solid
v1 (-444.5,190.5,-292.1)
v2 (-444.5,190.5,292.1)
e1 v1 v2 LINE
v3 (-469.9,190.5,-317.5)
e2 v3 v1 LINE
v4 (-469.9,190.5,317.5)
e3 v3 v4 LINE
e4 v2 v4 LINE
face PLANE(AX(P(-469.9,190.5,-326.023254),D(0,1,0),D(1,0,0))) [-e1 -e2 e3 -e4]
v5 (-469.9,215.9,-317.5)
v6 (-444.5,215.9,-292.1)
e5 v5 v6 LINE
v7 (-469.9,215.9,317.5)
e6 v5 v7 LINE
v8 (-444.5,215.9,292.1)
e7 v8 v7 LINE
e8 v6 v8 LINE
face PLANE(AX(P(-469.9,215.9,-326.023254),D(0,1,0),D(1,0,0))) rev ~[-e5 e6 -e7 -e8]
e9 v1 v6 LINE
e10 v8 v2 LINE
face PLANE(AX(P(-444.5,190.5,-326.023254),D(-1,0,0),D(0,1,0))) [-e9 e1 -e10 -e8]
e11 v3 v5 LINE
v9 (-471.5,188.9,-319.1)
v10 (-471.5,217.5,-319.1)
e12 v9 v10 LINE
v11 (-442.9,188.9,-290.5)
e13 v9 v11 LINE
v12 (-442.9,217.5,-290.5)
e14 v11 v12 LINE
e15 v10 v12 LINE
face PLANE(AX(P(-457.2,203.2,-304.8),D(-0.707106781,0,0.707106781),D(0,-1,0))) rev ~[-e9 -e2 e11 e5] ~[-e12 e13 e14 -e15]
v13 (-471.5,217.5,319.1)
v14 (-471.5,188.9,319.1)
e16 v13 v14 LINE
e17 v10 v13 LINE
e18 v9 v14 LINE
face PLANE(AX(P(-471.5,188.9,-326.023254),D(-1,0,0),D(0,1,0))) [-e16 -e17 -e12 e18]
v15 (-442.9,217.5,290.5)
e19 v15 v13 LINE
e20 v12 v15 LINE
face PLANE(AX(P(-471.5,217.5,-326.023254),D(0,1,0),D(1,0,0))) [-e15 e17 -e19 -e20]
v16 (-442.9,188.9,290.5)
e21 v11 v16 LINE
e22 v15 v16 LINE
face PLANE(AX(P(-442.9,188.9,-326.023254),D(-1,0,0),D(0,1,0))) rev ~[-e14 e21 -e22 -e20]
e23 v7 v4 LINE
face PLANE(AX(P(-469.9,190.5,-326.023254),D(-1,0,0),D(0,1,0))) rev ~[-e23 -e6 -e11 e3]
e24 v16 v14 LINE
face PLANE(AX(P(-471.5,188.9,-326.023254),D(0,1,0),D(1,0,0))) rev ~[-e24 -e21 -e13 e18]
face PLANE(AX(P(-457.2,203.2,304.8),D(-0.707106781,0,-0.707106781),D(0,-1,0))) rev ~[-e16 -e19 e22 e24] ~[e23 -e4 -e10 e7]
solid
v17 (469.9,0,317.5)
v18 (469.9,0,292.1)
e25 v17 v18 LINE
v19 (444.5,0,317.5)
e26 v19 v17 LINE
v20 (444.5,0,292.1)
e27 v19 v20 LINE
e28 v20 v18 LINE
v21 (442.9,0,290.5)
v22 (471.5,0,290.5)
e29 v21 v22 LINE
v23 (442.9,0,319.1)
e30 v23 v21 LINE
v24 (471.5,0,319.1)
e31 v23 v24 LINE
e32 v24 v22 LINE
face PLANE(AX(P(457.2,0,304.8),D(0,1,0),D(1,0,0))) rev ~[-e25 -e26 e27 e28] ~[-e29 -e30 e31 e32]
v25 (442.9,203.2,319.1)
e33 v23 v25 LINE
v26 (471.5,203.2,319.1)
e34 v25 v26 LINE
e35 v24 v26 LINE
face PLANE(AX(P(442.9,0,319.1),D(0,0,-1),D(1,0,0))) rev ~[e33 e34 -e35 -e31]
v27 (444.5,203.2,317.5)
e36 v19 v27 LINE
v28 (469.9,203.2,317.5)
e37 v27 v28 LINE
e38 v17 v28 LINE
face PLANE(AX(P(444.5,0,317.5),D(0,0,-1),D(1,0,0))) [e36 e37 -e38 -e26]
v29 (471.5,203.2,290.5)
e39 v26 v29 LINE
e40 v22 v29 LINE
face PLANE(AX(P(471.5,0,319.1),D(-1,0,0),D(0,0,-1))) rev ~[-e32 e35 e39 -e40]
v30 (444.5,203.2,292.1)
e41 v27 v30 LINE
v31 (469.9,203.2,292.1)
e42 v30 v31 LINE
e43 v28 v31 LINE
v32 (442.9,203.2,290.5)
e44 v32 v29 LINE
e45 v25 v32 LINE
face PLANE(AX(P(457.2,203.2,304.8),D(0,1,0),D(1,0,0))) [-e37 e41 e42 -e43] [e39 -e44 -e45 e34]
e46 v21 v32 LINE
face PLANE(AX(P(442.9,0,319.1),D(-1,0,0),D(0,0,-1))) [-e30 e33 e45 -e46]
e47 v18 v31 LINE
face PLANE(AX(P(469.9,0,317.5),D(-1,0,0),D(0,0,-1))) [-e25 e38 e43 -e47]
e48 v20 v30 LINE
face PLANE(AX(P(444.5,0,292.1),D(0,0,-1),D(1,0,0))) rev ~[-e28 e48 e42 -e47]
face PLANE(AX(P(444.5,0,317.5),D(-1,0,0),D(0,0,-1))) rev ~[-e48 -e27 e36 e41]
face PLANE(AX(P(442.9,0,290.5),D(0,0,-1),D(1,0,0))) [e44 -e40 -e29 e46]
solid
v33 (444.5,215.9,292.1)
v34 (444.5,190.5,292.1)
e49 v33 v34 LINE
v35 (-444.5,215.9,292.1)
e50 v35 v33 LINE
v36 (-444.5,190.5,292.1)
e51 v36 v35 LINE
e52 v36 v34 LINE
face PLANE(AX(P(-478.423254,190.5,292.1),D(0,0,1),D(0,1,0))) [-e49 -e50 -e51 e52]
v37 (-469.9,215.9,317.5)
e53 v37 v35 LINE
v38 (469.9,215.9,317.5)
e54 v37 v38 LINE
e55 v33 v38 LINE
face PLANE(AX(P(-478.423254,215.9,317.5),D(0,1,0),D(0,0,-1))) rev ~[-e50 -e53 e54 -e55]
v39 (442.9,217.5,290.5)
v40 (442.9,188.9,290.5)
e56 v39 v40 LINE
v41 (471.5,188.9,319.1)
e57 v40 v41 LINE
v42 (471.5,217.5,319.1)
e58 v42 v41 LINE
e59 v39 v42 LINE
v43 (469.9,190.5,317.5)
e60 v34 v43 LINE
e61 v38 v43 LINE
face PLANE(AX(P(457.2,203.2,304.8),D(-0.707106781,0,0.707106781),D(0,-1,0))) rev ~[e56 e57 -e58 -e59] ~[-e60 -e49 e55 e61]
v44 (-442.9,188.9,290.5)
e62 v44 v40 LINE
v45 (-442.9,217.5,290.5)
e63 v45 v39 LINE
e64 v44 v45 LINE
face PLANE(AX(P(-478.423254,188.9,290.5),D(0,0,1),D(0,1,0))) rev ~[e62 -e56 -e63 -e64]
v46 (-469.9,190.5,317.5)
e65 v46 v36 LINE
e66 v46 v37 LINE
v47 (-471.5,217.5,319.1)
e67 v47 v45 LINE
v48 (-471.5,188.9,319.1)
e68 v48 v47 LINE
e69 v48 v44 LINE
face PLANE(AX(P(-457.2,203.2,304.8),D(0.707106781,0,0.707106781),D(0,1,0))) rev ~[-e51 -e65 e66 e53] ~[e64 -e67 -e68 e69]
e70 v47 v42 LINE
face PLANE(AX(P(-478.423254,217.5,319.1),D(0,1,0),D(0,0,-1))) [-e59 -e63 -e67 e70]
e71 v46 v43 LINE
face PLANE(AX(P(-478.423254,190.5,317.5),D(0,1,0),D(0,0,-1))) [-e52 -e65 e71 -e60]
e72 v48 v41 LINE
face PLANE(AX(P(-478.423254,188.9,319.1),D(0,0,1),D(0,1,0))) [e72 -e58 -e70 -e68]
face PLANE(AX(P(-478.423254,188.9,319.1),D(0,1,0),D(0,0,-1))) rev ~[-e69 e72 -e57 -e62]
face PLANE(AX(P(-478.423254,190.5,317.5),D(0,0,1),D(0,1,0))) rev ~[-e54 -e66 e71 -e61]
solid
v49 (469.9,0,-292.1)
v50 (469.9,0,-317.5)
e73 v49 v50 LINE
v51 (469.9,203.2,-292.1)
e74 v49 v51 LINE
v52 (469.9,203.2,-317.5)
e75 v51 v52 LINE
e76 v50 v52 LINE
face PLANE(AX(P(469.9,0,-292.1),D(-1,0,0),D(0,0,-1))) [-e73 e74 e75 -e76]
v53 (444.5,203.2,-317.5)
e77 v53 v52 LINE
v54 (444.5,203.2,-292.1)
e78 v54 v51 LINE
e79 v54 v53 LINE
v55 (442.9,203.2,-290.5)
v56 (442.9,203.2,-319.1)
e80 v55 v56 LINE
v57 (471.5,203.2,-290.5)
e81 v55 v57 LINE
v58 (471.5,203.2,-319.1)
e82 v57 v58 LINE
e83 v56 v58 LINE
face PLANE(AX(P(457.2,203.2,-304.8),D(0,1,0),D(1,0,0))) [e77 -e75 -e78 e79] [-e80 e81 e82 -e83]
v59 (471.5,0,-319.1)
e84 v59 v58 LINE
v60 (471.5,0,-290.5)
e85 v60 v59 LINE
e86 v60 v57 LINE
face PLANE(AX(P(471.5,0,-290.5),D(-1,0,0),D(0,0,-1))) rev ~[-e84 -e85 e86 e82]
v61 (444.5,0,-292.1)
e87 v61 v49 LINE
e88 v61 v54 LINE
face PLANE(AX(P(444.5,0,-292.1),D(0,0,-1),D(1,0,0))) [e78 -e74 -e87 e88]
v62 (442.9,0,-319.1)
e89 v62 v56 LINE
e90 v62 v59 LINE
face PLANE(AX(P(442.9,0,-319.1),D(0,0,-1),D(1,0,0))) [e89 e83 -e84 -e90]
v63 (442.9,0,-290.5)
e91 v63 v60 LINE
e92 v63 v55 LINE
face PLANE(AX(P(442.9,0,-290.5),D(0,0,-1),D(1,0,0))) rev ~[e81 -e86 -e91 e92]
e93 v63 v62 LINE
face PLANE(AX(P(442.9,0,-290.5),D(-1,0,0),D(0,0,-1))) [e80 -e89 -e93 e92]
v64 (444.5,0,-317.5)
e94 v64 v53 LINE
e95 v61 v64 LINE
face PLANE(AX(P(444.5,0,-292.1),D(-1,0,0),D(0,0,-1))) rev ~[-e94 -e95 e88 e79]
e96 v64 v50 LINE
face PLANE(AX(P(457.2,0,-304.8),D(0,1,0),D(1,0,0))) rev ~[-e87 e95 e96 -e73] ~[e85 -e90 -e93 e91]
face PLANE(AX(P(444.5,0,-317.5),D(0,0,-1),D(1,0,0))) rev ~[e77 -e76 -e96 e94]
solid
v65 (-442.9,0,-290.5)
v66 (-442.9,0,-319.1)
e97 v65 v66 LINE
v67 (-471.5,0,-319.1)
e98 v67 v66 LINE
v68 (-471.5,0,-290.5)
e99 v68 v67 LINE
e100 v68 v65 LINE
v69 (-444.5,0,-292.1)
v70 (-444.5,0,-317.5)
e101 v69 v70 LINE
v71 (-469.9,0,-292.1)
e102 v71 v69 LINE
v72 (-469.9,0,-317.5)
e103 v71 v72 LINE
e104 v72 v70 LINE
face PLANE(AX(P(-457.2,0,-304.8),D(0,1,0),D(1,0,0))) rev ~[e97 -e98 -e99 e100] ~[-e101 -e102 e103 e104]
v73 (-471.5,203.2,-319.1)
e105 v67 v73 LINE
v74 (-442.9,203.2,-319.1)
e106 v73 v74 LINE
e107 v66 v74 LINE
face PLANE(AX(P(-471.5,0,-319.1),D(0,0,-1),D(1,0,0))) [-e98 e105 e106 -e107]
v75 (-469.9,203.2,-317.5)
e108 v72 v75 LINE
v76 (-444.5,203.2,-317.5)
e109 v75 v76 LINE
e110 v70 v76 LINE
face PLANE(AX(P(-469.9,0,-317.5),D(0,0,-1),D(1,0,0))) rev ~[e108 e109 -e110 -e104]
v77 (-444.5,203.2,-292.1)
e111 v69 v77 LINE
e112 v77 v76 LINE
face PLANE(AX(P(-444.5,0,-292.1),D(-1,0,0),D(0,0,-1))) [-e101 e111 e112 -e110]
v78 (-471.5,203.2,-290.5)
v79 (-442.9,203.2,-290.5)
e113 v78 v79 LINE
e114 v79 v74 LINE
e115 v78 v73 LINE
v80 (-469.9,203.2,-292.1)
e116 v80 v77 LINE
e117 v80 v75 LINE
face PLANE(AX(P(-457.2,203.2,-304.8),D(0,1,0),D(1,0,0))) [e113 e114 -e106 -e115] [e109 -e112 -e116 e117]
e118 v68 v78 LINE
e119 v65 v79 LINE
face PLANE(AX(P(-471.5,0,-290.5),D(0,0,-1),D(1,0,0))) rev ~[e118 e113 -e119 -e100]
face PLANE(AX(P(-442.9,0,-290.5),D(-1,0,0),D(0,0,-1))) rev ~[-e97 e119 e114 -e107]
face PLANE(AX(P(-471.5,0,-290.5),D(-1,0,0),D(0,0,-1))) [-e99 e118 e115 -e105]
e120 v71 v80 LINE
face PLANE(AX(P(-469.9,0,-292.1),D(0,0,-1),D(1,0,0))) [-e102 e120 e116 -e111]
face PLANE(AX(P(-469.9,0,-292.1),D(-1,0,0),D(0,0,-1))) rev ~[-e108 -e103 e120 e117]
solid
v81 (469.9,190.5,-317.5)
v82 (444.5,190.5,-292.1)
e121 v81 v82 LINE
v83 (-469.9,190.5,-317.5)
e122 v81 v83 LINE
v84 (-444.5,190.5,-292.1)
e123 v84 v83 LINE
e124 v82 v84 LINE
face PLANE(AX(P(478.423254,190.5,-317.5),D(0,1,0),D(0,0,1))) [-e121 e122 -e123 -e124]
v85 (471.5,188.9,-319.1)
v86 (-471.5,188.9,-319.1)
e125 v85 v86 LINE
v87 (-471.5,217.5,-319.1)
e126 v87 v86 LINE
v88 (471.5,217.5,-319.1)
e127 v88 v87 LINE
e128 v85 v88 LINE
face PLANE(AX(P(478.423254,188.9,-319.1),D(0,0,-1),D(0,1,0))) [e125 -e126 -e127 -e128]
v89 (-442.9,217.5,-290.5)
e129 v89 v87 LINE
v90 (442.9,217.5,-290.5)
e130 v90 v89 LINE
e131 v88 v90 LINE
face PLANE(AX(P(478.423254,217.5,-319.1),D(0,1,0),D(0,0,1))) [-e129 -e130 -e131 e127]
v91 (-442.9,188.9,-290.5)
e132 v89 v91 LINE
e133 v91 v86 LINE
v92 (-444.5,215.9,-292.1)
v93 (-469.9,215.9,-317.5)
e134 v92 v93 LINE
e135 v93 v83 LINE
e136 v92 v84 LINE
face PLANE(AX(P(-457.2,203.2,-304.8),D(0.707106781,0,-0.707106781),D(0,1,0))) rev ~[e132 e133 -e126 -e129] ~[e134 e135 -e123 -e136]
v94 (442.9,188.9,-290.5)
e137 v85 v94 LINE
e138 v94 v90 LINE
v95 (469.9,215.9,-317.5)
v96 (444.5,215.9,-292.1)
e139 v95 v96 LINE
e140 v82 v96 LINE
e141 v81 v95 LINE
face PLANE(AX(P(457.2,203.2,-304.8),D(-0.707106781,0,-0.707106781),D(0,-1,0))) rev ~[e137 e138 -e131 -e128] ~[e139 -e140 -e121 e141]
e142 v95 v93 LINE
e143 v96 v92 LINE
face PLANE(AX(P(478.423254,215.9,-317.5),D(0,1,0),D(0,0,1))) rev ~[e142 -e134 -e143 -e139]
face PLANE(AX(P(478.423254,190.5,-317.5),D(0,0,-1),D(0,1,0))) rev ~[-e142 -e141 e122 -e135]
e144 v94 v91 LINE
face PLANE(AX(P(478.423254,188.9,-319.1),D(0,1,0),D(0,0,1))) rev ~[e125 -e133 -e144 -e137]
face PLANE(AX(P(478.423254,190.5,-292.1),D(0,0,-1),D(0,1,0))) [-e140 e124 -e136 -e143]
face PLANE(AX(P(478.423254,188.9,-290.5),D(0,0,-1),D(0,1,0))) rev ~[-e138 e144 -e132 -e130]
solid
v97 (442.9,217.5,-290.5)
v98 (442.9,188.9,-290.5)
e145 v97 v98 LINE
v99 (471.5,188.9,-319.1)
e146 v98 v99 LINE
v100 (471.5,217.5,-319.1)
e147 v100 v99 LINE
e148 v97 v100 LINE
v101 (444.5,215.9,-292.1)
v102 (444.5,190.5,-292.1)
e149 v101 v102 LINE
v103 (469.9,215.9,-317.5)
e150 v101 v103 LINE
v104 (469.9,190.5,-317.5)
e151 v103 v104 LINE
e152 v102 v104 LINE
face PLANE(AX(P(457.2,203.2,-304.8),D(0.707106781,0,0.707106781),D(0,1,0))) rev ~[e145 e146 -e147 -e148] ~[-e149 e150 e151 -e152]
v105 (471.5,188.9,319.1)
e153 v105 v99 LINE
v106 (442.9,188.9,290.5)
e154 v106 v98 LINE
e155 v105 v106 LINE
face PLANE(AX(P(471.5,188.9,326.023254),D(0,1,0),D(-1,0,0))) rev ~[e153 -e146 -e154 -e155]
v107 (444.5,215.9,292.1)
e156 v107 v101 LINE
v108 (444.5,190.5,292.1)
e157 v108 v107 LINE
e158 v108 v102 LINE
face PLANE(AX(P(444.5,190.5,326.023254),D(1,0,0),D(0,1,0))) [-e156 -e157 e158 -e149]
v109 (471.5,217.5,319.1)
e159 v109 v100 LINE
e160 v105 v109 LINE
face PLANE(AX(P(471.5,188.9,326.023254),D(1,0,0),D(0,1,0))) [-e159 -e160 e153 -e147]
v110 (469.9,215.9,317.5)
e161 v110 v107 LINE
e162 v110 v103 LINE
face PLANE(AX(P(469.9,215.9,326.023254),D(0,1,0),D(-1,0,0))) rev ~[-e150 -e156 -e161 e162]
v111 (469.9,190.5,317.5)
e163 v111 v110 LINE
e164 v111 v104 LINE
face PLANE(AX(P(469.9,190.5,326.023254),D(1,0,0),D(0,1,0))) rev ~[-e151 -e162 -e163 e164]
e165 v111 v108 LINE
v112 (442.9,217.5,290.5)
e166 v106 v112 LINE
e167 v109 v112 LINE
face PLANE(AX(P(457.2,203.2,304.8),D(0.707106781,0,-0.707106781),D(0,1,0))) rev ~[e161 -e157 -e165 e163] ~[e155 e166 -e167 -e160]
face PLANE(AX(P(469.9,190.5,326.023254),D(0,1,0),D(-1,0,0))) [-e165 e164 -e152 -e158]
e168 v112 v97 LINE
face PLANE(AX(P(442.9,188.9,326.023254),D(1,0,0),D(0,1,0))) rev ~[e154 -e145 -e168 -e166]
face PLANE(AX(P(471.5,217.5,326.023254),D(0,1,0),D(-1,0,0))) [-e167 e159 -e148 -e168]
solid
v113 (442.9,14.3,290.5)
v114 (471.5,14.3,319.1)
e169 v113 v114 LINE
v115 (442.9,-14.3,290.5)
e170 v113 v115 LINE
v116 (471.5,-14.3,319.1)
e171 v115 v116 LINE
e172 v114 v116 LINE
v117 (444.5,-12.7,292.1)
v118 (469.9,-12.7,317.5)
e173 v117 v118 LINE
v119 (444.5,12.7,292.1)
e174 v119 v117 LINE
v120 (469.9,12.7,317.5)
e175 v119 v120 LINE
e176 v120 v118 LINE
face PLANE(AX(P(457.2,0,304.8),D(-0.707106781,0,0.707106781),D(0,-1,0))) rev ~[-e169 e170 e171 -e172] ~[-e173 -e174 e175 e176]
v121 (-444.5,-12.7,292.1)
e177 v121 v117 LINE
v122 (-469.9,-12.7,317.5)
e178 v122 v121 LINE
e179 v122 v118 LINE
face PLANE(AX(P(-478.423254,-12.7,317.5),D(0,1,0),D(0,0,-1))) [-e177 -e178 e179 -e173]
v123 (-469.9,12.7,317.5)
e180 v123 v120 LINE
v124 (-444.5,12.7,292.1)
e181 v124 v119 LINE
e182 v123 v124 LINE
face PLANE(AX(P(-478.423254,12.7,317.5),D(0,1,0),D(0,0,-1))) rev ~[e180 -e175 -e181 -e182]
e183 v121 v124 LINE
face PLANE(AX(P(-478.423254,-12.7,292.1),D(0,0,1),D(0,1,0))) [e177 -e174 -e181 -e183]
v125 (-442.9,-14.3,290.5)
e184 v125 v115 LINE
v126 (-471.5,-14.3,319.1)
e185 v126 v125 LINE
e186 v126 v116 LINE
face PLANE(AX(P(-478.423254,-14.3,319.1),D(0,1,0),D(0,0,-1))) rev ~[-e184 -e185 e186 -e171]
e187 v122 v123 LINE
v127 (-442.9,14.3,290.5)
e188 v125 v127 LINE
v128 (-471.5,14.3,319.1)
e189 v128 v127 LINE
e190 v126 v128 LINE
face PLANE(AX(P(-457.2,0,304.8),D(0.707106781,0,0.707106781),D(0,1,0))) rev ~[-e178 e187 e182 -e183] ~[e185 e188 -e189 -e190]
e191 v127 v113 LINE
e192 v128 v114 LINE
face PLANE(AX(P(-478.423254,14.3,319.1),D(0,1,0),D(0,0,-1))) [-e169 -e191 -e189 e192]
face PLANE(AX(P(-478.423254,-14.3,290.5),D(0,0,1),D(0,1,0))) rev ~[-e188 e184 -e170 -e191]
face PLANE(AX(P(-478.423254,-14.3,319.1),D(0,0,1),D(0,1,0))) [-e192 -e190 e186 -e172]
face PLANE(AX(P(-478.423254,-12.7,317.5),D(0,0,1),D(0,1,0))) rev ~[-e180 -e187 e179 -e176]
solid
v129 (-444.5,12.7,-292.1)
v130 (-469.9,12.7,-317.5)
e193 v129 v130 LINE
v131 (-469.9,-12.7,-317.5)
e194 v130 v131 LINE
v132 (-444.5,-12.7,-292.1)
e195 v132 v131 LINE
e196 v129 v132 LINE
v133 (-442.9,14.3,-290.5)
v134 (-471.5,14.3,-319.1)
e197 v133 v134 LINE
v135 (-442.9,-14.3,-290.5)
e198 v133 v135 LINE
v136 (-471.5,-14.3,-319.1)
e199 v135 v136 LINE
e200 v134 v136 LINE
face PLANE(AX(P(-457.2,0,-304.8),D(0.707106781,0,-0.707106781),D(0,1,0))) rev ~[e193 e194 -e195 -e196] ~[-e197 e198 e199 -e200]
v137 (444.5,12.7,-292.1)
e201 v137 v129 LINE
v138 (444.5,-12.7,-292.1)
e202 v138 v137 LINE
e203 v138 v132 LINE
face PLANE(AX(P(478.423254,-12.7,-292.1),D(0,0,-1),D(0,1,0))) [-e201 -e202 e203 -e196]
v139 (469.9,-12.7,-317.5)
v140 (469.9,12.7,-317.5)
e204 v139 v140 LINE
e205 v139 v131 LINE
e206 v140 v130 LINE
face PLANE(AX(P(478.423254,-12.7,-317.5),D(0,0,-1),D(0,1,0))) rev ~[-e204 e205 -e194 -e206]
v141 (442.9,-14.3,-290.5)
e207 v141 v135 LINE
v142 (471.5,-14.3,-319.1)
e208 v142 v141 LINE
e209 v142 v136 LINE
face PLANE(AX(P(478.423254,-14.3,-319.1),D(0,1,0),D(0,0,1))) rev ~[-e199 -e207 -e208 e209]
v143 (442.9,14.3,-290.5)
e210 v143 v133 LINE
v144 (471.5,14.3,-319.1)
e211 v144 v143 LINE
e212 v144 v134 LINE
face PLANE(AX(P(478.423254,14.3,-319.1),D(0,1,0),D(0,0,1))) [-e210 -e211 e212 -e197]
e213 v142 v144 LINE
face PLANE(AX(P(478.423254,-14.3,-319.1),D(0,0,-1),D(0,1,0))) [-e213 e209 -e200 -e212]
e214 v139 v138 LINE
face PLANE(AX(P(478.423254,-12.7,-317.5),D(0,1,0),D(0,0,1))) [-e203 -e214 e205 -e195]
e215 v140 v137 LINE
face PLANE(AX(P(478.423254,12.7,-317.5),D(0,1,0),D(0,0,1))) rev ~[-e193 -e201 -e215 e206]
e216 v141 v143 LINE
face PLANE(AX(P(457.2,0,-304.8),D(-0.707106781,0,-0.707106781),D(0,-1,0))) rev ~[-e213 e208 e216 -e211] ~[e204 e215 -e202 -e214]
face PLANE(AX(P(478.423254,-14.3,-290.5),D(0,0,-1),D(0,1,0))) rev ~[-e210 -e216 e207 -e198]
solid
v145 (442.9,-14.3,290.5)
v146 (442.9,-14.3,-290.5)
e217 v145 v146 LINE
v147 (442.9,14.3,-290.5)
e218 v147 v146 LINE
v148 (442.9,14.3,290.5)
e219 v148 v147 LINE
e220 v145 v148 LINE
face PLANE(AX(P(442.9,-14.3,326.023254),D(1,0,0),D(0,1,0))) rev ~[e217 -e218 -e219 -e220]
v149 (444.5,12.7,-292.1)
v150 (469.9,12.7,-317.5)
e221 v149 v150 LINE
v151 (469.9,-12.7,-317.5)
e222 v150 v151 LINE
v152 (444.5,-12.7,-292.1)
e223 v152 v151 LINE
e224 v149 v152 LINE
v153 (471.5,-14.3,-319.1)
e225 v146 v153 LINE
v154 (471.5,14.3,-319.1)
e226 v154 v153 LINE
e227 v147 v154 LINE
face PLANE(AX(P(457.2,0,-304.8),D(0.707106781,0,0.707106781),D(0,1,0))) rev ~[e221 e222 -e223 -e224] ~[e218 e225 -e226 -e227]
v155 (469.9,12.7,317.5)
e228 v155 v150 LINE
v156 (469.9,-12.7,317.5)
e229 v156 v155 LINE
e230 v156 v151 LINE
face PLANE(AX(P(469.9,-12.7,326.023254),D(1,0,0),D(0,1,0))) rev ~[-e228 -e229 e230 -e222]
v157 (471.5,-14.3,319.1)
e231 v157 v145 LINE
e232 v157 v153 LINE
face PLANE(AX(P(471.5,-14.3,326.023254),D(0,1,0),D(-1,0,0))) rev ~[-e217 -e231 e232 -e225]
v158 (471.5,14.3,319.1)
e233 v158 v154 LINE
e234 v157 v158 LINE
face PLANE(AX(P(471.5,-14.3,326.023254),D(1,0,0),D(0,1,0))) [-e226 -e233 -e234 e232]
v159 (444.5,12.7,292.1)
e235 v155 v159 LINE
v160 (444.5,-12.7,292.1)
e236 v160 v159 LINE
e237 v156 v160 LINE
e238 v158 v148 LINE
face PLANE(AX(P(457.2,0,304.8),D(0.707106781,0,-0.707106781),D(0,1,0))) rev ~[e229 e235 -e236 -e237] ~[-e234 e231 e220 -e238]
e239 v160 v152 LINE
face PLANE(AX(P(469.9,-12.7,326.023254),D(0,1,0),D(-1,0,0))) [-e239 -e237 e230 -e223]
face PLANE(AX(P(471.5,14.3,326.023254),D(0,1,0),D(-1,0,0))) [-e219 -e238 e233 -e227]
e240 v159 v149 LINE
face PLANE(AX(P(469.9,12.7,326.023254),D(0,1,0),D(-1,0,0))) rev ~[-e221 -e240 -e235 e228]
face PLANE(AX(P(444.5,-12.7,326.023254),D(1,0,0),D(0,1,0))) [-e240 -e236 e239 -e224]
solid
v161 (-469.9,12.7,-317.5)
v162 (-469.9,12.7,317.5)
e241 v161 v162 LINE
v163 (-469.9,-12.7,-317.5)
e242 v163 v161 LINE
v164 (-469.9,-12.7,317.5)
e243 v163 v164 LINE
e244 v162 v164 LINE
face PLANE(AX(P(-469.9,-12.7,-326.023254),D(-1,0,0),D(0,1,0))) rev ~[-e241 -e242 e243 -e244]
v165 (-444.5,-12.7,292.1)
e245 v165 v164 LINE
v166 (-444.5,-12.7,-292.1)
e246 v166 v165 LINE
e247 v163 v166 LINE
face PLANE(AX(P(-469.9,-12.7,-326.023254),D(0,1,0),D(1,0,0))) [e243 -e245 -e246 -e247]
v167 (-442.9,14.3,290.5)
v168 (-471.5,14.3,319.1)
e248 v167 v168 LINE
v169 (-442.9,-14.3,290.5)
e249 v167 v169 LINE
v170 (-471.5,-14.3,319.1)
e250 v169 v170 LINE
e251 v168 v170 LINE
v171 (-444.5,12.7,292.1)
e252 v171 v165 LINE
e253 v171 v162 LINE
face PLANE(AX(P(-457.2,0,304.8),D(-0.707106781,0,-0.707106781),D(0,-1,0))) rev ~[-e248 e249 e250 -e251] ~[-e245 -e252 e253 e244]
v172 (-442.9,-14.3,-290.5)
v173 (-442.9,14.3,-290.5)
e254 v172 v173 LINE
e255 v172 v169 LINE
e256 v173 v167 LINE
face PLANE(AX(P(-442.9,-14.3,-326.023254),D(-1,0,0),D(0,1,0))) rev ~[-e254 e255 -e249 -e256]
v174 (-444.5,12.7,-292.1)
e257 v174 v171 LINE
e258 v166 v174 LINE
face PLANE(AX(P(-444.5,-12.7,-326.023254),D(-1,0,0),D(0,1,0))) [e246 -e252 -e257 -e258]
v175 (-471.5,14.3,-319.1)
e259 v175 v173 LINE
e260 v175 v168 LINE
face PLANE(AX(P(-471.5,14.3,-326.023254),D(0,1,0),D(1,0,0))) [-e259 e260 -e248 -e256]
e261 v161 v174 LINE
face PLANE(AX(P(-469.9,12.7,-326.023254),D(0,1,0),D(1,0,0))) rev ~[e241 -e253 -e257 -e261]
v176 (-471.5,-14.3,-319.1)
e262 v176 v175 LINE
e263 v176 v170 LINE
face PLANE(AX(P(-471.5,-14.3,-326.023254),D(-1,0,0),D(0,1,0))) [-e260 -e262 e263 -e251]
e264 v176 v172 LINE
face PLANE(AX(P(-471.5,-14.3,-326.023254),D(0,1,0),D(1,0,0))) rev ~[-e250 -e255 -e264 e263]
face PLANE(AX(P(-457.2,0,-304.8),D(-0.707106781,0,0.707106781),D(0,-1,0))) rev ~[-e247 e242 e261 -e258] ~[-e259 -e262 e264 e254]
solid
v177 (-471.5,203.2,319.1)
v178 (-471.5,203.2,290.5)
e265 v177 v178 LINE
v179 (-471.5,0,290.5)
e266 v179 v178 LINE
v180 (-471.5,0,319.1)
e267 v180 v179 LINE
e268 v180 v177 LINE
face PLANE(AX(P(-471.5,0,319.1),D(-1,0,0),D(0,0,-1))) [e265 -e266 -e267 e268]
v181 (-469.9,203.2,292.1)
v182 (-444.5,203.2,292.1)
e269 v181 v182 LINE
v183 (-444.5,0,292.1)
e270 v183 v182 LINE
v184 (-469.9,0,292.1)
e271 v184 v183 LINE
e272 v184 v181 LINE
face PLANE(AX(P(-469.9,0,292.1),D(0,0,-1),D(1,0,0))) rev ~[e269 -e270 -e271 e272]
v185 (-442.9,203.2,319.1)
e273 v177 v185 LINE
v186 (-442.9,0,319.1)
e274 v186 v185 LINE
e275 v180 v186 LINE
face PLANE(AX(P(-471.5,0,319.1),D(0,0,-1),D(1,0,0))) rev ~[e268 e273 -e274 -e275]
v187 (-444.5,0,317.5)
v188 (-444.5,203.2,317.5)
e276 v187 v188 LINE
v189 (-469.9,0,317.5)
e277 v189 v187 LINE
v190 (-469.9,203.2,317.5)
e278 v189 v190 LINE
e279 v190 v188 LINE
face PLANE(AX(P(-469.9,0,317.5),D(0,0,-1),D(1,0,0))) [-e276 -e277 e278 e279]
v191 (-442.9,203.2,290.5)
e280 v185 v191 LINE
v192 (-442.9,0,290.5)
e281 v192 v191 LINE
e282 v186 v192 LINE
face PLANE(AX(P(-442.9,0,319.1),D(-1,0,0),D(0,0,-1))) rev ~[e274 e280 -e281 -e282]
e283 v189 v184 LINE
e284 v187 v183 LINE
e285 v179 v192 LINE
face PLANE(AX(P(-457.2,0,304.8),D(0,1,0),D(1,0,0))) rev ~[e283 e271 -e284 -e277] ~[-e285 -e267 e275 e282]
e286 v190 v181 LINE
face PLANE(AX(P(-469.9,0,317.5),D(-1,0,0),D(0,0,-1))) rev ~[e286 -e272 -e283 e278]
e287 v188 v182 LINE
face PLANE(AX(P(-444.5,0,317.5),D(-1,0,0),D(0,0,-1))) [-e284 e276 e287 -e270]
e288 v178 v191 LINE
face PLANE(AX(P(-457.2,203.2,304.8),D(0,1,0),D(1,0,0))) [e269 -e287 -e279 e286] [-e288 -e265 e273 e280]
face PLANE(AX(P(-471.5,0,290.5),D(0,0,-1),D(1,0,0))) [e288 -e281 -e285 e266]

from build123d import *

# Parameters (mm, degrees)
SQUARE_TUBE_25_4X25_4X1_6_IGVC_1_DEPTH      = 935.623253942
SQUARE_TUBE_25_4X25_4X1_6_IGVC_1_DEPTH_BACK = 21.223253942
SKETCH14_W                                  = 28.6
SKETCH14_H                                  = 28.6
SKETCH14_W_2                                = 25.4
SKETCH14_H_2                                = 25.4
SKETCH14_ON_SEGMENT_2_W                     = 28.6
SKETCH14_ON_SEGMENT_2_H                     = 28.6
SKETCH14_ON_SEGMENT_2_W_2                   = 25.4
SKETCH14_ON_SEGMENT_2_H_2                   = 25.4
SQUARE_TUBE_25_4X25_4X1_6_IGVC_1_2_DEPTH    = 652.046507884
SKETCH14_ON_SEGMENT_3_W                     = 28.6
SKETCH14_ON_SEGMENT_3_H                     = 28.6
SKETCH14_ON_SEGMENT_3_W_2                   = 25.4
SKETCH14_ON_SEGMENT_3_H_2                   = 25.4
SQUARE_TUBE_25_4X25_4X1_6_IGVC_1_3_DEPTH    = 956.846507884
SKETCH14_ON_SEGMENT_4_W                     = 28.6
SKETCH14_ON_SEGMENT_4_H                     = 28.6
SKETCH14_ON_SEGMENT_4_W_2                   = 25.4
SKETCH14_ON_SEGMENT_4_H_2                   = 25.4
SQUARE_TUBE_25_4X25_4X1_6_IGVC_1_4_DEPTH    = 652.046507884
SKETCH15_W                                  = 28.6
SKETCH15_H                                  = 28.6
SKETCH15_W_2                                = 25.4
SKETCH15_H_2                                = 25.4
SQUARE_TUBE_25_4X25_4X1_6_IGVC_2_DEPTH      = 203.2
SKETCH15_ON_SEGMENT_2_W                     = 28.6
SKETCH15_ON_SEGMENT_2_H                     = 28.6
SKETCH15_ON_SEGMENT_2_W_2                   = 25.4
SKETCH15_ON_SEGMENT_2_H_2                   = 25.4
SQUARE_TUBE_25_4X25_4X1_6_IGVC_2_2_DEPTH    = 203.2
SKETCH15_ON_SEGMENT_3_W                     = 28.6
SKETCH15_ON_SEGMENT_3_H                     = 28.6
SKETCH15_ON_SEGMENT_3_W_2                   = 25.4
SKETCH15_ON_SEGMENT_3_H_2                   = 25.4
SQUARE_TUBE_25_4X25_4X1_6_IGVC_2_3_DEPTH    = 203.2
SKETCH15_ON_SEGMENT_4_W                     = 28.6
SKETCH15_ON_SEGMENT_4_H                     = 28.6
SKETCH15_ON_SEGMENT_4_W_2                   = 25.4
SKETCH15_ON_SEGMENT_4_H_2                   = 25.4
SQUARE_TUBE_25_4X25_4X1_6_IGVC_2_4_DEPTH    = 203.2
SQUARE_TUBE_25_4X25_4X1_6_IGVC_3_DEPTH      = 630.823253942
SQUARE_TUBE_25_4X25_4X1_6_IGVC_3_DEPTH_BACK = 21.223253942
SKETCH16_W                                  = 28.6
SKETCH16_H                                  = 28.6
SKETCH16_W_2                                = 25.4
SKETCH16_H_2                                = 25.4
SKETCH16_ON_SEGMENT_2_W                     = 28.6
SKETCH16_ON_SEGMENT_2_H                     = 28.6
SKETCH16_ON_SEGMENT_2_W_2                   = 25.4
SKETCH16_ON_SEGMENT_2_H_2                   = 25.4
SQUARE_TUBE_25_4X25_4X1_6_IGVC_3_2_DEPTH    = 956.846507884
SKETCH16_ON_SEGMENT_3_W                     = 28.6
SKETCH16_ON_SEGMENT_3_H                     = 28.6
SKETCH16_ON_SEGMENT_3_W_2                   = 25.4
SKETCH16_ON_SEGMENT_3_H_2                   = 25.4
SQUARE_TUBE_25_4X25_4X1_6_IGVC_3_3_DEPTH    = 652.046507884
SKETCH16_ON_SEGMENT_4_W                     = 28.6
SKETCH16_ON_SEGMENT_4_H                     = 28.6
SKETCH16_ON_SEGMENT_4_W_2                   = 25.4
SKETCH16_ON_SEGMENT_4_H_2                   = 25.4
SQUARE_TUBE_25_4X25_4X1_6_IGVC_3_4_DEPTH    = 956.846507884


with BuildPart() as part:
    # Sketch14 → Square tube 25.4X25.4X1.6_IGVC(1) (new, two sides: drawn at the far end of the back side and taken through both)
    with BuildSketch(Plane(origin=(-457.2, 0, 304.8), x_dir=(0, 0, -1), z_dir=(1, 0, 0)).offset(-SQUARE_TUBE_25_4X25_4X1_6_IGVC_1_DEPTH_BACK)):
        Rectangle(SKETCH14_W, SKETCH14_H)
        Rectangle(SKETCH14_W_2, SKETCH14_H_2, mode=Mode.SUBTRACT)
    extrude(amount=SQUARE_TUBE_25_4X25_4X1_6_IGVC_1_DEPTH + SQUARE_TUBE_25_4X25_4X1_6_IGVC_1_DEPTH_BACK)

    # Square tube 25.4X25.4X1.6_IGVC(1) mitre 1
    split(bisect_by=Plane(origin=(-457.2, 0, 304.8), x_dir=(0, 1, 0), z_dir=(0.707106781, 0, 0.707106781)), keep=Keep.TOP)

    # Square tube 25.4X25.4X1.6_IGVC(1) mitre 2
    split(bisect_by=Plane(origin=(457.2, 0, 304.8), x_dir=(0, -1, 0), z_dir=(-0.707106781, 0, 0.707106781)), keep=Keep.TOP)


with BuildPart() as body_2:
    # Sketch14 on segment 2 (carried to segment 2) → Square tube 25.4X25.4X1.6_IGVC_1 2 (new body)
    with BuildSketch(Plane(origin=(457.2, 0, 326.023253942), x_dir=(-1, 0, 0), z_dir=(0, 0, -1))):
        Rectangle(SKETCH14_ON_SEGMENT_2_W, SKETCH14_ON_SEGMENT_2_H)
        Rectangle(SKETCH14_ON_SEGMENT_2_W_2, SKETCH14_ON_SEGMENT_2_H_2, mode=Mode.SUBTRACT)
    extrude(amount=SQUARE_TUBE_25_4X25_4X1_6_IGVC_1_2_DEPTH)

    # Square tube 25.4X25.4X1.6_IGVC_1 2 mitre
    split(bisect_by=Plane(origin=(457.2, 0, -304.8), x_dir=(0, 1, 0), z_dir=(0.707106781, 0, 0.707106781)), keep=Keep.TOP)

    # Square tube 25.4X25.4X1.6_IGVC_1 2 m 2
    split(bisect_by=Plane(origin=(457.2, 0, 304.8), x_dir=(0, 1, 0), z_dir=(0.707106781, 0, -0.707106781)), keep=Keep.TOP)


with BuildPart() as body_3:
    # Sketch14 on segment 3 (carried to segment 3) → Square tube 25.4X25.4X1.6_IGVC_1 3 (new body)
    with BuildSketch(Plane(origin=(478.423253942, 0, -304.8), x_dir=(0, 0, 1), z_dir=(-1, 0, 0))):
        Rectangle(SKETCH14_ON_SEGMENT_3_W, SKETCH14_ON_SEGMENT_3_H)
        Rectangle(SKETCH14_ON_SEGMENT_3_W_2, SKETCH14_ON_SEGMENT_3_H_2, mode=Mode.SUBTRACT)
    extrude(amount=SQUARE_TUBE_25_4X25_4X1_6_IGVC_1_3_DEPTH)

    # Square tube 25.4X25.4X1.6_IGVC_1 3 mitre
    split(bisect_by=Plane(origin=(-457.2, 0, -304.8), x_dir=(0, 1, 0), z_dir=(0.707106781, 0, -0.707106781)), keep=Keep.TOP)

    # Square tube 25.4X25.4X1.6_IGVC_1 3 m 2
    split(bisect_by=Plane(origin=(457.2, 0, -304.8), x_dir=(0, -1, 0), z_dir=(-0.707106781, 0, -0.707106781)), keep=Keep.TOP)


with BuildPart() as body_4:
    # Sketch14 on segment 4 (carried to segment 4) → Square tube 25.4X25.4X1.6_IGVC_1 4 (new body)
    with BuildSketch(Plane(origin=(-457.2, 0, -326.023253942), x_dir=(1, 0, 0), z_dir=(0, 0, 1))):
        Rectangle(SKETCH14_ON_SEGMENT_4_W, SKETCH14_ON_SEGMENT_4_H)
        Rectangle(SKETCH14_ON_SEGMENT_4_W_2, SKETCH14_ON_SEGMENT_4_H_2, mode=Mode.SUBTRACT)
    extrude(amount=SQUARE_TUBE_25_4X25_4X1_6_IGVC_1_4_DEPTH)

    # Square tube 25.4X25.4X1.6_IGVC_1 4 mitre
    split(bisect_by=Plane(origin=(-457.2, 0, -304.8), x_dir=(0, -1, 0), z_dir=(-0.707106781, 0, 0.707106781)), keep=Keep.TOP)

    # Square tube 25.4X25.4X1.6_IGVC_1 4 m 2
    split(bisect_by=Plane(origin=(-457.2, 0, 304.8), x_dir=(0, -1, 0), z_dir=(-0.707106781, 0, -0.707106781)), keep=Keep.TOP)


with BuildPart() as body_5:
    # Sketch15 → Square tube 25.4X25.4X1.6_IGVC(2) (new body)
    with BuildSketch(Plane(origin=(-457.2, 0, 304.8), x_dir=(1, 0, 0), z_dir=(0, 1, 0))):
        Rectangle(SKETCH15_W, SKETCH15_H)
        Rectangle(SKETCH15_W_2, SKETCH15_H_2, mode=Mode.SUBTRACT)
    extrude(amount=SQUARE_TUBE_25_4X25_4X1_6_IGVC_2_DEPTH)


with BuildPart() as body_6:
    # Sketch15 on segment 2 (carried to segment 2) → Square tube 25.4X25.4X1.6_IGVC_2 2 (new body)
    with BuildSketch(Plane(origin=(457.2, 0, 304.8), x_dir=(1, 0, 0), z_dir=(0, 1, 0))):
        Rectangle(SKETCH15_ON_SEGMENT_2_W, SKETCH15_ON_SEGMENT_2_H)
        Rectangle(SKETCH15_ON_SEGMENT_2_W_2, SKETCH15_ON_SEGMENT_2_H_2, mode=Mode.SUBTRACT)
    extrude(amount=SQUARE_TUBE_25_4X25_4X1_6_IGVC_2_2_DEPTH)


with BuildPart() as body_7:
    # Sketch15 on segment 3 (carried to segment 3) → Square tube 25.4X25.4X1.6_IGVC_2 3 (new body)
    with BuildSketch(Plane(origin=(457.2, 0, -304.8), x_dir=(1, 0, 0), z_dir=(0, 1, 0))):
        Rectangle(SKETCH15_ON_SEGMENT_3_W, SKETCH15_ON_SEGMENT_3_H)
        Rectangle(SKETCH15_ON_SEGMENT_3_W_2, SKETCH15_ON_SEGMENT_3_H_2, mode=Mode.SUBTRACT)
    extrude(amount=SQUARE_TUBE_25_4X25_4X1_6_IGVC_2_3_DEPTH)


with BuildPart() as body_8:
    # Sketch15 on segment 4 (carried to segment 4) → Square tube 25.4X25.4X1.6_IGVC_2 4 (new body)
    with BuildSketch(Plane(origin=(-457.2, 0, -304.8), x_dir=(1, 0, 0), z_dir=(0, 1, 0))):
        Rectangle(SKETCH15_ON_SEGMENT_4_W, SKETCH15_ON_SEGMENT_4_H)
        Rectangle(SKETCH15_ON_SEGMENT_4_W_2, SKETCH15_ON_SEGMENT_4_H_2, mode=Mode.SUBTRACT)
    extrude(amount=SQUARE_TUBE_25_4X25_4X1_6_IGVC_2_4_DEPTH)


with BuildPart() as body_9:
    # Sketch16 → Square tube 25.4X25.4X1.6_IGVC(3) (new, two sides: drawn at the far end of the back side and taken through both)
    with BuildSketch(Plane(origin=(-457.2, 203.2, -304.8), x_dir=(1, 0, 0), z_dir=(0, 0, 1)).offset(-SQUARE_TUBE_25_4X25_4X1_6_IGVC_3_DEPTH_BACK)):
        Rectangle(SKETCH16_W, SKETCH16_H)
        Rectangle(SKETCH16_W_2, SKETCH16_H_2, mode=Mode.SUBTRACT)
    extrude(amount=SQUARE_TUBE_25_4X25_4X1_6_IGVC_3_DEPTH + SQUARE_TUBE_25_4X25_4X1_6_IGVC_3_DEPTH_BACK)

    # Square tube 25.4X25.4X1.6_IGVC(3) mitre 1
    split(bisect_by=Plane(origin=(-457.2, 203.2, -304.8), x_dir=(0, -1, 0), z_dir=(-0.707106781, 0, 0.707106781)), keep=Keep.TOP)

    # Square tube 25.4X25.4X1.6_IGVC(3) mitre 2
    split(bisect_by=Plane(origin=(-457.2, 203.2, 304.8), x_dir=(0, -1, 0), z_dir=(-0.707106781, 0, -0.707106781)), keep=Keep.TOP)


with BuildPart() as body_10:
    # Sketch16 on segment 2 (carried to segment 2) → Square tube 25.4X25.4X1.6_IGVC_3 2 (new body)
    with BuildSketch(Plane(origin=(-478.423253942, 203.2, 304.8), x_dir=(0, 0, -1), z_dir=(1, 0, 0))):
        Rectangle(SKETCH16_ON_SEGMENT_2_W, SKETCH16_ON_SEGMENT_2_H)
        Rectangle(SKETCH16_ON_SEGMENT_2_W_2, SKETCH16_ON_SEGMENT_2_H_2, mode=Mode.SUBTRACT)
    extrude(amount=SQUARE_TUBE_25_4X25_4X1_6_IGVC_3_2_DEPTH)

    # Square tube 25.4X25.4X1.6_IGVC_3 2 mitre
    split(bisect_by=Plane(origin=(-457.2, 203.2, 304.8), x_dir=(0, 1, 0), z_dir=(0.707106781, 0, 0.707106781)), keep=Keep.TOP)

    # Square tube 25.4X25.4X1.6_IGVC_3 2 m 2
    split(bisect_by=Plane(origin=(457.2, 203.2, 304.8), x_dir=(0, -1, 0), z_dir=(-0.707106781, 0, 0.707106781)), keep=Keep.TOP)


with BuildPart() as body_11:
    # Sketch16 on segment 3 (carried to segment 3) → Square tube 25.4X25.4X1.6_IGVC_3 3 (new body)
    with BuildSketch(Plane(origin=(457.2, 203.2, 326.023253942), x_dir=(-1, 0, 0), z_dir=(0, 0, -1))):
        Rectangle(SKETCH16_ON_SEGMENT_3_W, SKETCH16_ON_SEGMENT_3_H)
        Rectangle(SKETCH16_ON_SEGMENT_3_W_2, SKETCH16_ON_SEGMENT_3_H_2, mode=Mode.SUBTRACT)
    extrude(amount=SQUARE_TUBE_25_4X25_4X1_6_IGVC_3_3_DEPTH)

    # Square tube 25.4X25.4X1.6_IGVC_3 3 mitre
    split(bisect_by=Plane(origin=(457.2, 203.2, -304.8), x_dir=(0, 1, 0), z_dir=(0.707106781, 0, 0.707106781)), keep=Keep.TOP)

    # Square tube 25.4X25.4X1.6_IGVC_3 3 m 2
    split(bisect_by=Plane(origin=(457.2, 203.2, 304.8), x_dir=(0, 1, 0), z_dir=(0.707106781, 0, -0.707106781)), keep=Keep.TOP)


with BuildPart() as body_12:
    # Sketch16 on segment 4 (carried to segment 4) → Square tube 25.4X25.4X1.6_IGVC_3 4 (new body)
    with BuildSketch(Plane(origin=(478.423253942, 203.2, -304.8), x_dir=(0, 0, 1), z_dir=(-1, 0, 0))):
        Rectangle(SKETCH16_ON_SEGMENT_4_W, SKETCH16_ON_SEGMENT_4_H)
        Rectangle(SKETCH16_ON_SEGMENT_4_W_2, SKETCH16_ON_SEGMENT_4_H_2, mode=Mode.SUBTRACT)
    extrude(amount=SQUARE_TUBE_25_4X25_4X1_6_IGVC_3_4_DEPTH)

    # Square tube 25.4X25.4X1.6_IGVC_3 4 mitre
    split(bisect_by=Plane(origin=(-457.2, 203.2, -304.8), x_dir=(0, 1, 0), z_dir=(0.707106781, 0, -0.707106781)), keep=Keep.TOP)

    # Square tube 25.4X25.4X1.6_IGVC_3 4 m 2
    split(bisect_by=Plane(origin=(457.2, 203.2, -304.8), x_dir=(0, -1, 0), z_dir=(-0.707106781, 0, -0.707106781)), keep=Keep.TOP)


solid = Compound([part.part, body_2.part, body_3.part, body_4.part, body_5.part, body_6.part, body_7.part, body_8.part, body_9.part, body_10.part, body_11.part, body_12.part])
